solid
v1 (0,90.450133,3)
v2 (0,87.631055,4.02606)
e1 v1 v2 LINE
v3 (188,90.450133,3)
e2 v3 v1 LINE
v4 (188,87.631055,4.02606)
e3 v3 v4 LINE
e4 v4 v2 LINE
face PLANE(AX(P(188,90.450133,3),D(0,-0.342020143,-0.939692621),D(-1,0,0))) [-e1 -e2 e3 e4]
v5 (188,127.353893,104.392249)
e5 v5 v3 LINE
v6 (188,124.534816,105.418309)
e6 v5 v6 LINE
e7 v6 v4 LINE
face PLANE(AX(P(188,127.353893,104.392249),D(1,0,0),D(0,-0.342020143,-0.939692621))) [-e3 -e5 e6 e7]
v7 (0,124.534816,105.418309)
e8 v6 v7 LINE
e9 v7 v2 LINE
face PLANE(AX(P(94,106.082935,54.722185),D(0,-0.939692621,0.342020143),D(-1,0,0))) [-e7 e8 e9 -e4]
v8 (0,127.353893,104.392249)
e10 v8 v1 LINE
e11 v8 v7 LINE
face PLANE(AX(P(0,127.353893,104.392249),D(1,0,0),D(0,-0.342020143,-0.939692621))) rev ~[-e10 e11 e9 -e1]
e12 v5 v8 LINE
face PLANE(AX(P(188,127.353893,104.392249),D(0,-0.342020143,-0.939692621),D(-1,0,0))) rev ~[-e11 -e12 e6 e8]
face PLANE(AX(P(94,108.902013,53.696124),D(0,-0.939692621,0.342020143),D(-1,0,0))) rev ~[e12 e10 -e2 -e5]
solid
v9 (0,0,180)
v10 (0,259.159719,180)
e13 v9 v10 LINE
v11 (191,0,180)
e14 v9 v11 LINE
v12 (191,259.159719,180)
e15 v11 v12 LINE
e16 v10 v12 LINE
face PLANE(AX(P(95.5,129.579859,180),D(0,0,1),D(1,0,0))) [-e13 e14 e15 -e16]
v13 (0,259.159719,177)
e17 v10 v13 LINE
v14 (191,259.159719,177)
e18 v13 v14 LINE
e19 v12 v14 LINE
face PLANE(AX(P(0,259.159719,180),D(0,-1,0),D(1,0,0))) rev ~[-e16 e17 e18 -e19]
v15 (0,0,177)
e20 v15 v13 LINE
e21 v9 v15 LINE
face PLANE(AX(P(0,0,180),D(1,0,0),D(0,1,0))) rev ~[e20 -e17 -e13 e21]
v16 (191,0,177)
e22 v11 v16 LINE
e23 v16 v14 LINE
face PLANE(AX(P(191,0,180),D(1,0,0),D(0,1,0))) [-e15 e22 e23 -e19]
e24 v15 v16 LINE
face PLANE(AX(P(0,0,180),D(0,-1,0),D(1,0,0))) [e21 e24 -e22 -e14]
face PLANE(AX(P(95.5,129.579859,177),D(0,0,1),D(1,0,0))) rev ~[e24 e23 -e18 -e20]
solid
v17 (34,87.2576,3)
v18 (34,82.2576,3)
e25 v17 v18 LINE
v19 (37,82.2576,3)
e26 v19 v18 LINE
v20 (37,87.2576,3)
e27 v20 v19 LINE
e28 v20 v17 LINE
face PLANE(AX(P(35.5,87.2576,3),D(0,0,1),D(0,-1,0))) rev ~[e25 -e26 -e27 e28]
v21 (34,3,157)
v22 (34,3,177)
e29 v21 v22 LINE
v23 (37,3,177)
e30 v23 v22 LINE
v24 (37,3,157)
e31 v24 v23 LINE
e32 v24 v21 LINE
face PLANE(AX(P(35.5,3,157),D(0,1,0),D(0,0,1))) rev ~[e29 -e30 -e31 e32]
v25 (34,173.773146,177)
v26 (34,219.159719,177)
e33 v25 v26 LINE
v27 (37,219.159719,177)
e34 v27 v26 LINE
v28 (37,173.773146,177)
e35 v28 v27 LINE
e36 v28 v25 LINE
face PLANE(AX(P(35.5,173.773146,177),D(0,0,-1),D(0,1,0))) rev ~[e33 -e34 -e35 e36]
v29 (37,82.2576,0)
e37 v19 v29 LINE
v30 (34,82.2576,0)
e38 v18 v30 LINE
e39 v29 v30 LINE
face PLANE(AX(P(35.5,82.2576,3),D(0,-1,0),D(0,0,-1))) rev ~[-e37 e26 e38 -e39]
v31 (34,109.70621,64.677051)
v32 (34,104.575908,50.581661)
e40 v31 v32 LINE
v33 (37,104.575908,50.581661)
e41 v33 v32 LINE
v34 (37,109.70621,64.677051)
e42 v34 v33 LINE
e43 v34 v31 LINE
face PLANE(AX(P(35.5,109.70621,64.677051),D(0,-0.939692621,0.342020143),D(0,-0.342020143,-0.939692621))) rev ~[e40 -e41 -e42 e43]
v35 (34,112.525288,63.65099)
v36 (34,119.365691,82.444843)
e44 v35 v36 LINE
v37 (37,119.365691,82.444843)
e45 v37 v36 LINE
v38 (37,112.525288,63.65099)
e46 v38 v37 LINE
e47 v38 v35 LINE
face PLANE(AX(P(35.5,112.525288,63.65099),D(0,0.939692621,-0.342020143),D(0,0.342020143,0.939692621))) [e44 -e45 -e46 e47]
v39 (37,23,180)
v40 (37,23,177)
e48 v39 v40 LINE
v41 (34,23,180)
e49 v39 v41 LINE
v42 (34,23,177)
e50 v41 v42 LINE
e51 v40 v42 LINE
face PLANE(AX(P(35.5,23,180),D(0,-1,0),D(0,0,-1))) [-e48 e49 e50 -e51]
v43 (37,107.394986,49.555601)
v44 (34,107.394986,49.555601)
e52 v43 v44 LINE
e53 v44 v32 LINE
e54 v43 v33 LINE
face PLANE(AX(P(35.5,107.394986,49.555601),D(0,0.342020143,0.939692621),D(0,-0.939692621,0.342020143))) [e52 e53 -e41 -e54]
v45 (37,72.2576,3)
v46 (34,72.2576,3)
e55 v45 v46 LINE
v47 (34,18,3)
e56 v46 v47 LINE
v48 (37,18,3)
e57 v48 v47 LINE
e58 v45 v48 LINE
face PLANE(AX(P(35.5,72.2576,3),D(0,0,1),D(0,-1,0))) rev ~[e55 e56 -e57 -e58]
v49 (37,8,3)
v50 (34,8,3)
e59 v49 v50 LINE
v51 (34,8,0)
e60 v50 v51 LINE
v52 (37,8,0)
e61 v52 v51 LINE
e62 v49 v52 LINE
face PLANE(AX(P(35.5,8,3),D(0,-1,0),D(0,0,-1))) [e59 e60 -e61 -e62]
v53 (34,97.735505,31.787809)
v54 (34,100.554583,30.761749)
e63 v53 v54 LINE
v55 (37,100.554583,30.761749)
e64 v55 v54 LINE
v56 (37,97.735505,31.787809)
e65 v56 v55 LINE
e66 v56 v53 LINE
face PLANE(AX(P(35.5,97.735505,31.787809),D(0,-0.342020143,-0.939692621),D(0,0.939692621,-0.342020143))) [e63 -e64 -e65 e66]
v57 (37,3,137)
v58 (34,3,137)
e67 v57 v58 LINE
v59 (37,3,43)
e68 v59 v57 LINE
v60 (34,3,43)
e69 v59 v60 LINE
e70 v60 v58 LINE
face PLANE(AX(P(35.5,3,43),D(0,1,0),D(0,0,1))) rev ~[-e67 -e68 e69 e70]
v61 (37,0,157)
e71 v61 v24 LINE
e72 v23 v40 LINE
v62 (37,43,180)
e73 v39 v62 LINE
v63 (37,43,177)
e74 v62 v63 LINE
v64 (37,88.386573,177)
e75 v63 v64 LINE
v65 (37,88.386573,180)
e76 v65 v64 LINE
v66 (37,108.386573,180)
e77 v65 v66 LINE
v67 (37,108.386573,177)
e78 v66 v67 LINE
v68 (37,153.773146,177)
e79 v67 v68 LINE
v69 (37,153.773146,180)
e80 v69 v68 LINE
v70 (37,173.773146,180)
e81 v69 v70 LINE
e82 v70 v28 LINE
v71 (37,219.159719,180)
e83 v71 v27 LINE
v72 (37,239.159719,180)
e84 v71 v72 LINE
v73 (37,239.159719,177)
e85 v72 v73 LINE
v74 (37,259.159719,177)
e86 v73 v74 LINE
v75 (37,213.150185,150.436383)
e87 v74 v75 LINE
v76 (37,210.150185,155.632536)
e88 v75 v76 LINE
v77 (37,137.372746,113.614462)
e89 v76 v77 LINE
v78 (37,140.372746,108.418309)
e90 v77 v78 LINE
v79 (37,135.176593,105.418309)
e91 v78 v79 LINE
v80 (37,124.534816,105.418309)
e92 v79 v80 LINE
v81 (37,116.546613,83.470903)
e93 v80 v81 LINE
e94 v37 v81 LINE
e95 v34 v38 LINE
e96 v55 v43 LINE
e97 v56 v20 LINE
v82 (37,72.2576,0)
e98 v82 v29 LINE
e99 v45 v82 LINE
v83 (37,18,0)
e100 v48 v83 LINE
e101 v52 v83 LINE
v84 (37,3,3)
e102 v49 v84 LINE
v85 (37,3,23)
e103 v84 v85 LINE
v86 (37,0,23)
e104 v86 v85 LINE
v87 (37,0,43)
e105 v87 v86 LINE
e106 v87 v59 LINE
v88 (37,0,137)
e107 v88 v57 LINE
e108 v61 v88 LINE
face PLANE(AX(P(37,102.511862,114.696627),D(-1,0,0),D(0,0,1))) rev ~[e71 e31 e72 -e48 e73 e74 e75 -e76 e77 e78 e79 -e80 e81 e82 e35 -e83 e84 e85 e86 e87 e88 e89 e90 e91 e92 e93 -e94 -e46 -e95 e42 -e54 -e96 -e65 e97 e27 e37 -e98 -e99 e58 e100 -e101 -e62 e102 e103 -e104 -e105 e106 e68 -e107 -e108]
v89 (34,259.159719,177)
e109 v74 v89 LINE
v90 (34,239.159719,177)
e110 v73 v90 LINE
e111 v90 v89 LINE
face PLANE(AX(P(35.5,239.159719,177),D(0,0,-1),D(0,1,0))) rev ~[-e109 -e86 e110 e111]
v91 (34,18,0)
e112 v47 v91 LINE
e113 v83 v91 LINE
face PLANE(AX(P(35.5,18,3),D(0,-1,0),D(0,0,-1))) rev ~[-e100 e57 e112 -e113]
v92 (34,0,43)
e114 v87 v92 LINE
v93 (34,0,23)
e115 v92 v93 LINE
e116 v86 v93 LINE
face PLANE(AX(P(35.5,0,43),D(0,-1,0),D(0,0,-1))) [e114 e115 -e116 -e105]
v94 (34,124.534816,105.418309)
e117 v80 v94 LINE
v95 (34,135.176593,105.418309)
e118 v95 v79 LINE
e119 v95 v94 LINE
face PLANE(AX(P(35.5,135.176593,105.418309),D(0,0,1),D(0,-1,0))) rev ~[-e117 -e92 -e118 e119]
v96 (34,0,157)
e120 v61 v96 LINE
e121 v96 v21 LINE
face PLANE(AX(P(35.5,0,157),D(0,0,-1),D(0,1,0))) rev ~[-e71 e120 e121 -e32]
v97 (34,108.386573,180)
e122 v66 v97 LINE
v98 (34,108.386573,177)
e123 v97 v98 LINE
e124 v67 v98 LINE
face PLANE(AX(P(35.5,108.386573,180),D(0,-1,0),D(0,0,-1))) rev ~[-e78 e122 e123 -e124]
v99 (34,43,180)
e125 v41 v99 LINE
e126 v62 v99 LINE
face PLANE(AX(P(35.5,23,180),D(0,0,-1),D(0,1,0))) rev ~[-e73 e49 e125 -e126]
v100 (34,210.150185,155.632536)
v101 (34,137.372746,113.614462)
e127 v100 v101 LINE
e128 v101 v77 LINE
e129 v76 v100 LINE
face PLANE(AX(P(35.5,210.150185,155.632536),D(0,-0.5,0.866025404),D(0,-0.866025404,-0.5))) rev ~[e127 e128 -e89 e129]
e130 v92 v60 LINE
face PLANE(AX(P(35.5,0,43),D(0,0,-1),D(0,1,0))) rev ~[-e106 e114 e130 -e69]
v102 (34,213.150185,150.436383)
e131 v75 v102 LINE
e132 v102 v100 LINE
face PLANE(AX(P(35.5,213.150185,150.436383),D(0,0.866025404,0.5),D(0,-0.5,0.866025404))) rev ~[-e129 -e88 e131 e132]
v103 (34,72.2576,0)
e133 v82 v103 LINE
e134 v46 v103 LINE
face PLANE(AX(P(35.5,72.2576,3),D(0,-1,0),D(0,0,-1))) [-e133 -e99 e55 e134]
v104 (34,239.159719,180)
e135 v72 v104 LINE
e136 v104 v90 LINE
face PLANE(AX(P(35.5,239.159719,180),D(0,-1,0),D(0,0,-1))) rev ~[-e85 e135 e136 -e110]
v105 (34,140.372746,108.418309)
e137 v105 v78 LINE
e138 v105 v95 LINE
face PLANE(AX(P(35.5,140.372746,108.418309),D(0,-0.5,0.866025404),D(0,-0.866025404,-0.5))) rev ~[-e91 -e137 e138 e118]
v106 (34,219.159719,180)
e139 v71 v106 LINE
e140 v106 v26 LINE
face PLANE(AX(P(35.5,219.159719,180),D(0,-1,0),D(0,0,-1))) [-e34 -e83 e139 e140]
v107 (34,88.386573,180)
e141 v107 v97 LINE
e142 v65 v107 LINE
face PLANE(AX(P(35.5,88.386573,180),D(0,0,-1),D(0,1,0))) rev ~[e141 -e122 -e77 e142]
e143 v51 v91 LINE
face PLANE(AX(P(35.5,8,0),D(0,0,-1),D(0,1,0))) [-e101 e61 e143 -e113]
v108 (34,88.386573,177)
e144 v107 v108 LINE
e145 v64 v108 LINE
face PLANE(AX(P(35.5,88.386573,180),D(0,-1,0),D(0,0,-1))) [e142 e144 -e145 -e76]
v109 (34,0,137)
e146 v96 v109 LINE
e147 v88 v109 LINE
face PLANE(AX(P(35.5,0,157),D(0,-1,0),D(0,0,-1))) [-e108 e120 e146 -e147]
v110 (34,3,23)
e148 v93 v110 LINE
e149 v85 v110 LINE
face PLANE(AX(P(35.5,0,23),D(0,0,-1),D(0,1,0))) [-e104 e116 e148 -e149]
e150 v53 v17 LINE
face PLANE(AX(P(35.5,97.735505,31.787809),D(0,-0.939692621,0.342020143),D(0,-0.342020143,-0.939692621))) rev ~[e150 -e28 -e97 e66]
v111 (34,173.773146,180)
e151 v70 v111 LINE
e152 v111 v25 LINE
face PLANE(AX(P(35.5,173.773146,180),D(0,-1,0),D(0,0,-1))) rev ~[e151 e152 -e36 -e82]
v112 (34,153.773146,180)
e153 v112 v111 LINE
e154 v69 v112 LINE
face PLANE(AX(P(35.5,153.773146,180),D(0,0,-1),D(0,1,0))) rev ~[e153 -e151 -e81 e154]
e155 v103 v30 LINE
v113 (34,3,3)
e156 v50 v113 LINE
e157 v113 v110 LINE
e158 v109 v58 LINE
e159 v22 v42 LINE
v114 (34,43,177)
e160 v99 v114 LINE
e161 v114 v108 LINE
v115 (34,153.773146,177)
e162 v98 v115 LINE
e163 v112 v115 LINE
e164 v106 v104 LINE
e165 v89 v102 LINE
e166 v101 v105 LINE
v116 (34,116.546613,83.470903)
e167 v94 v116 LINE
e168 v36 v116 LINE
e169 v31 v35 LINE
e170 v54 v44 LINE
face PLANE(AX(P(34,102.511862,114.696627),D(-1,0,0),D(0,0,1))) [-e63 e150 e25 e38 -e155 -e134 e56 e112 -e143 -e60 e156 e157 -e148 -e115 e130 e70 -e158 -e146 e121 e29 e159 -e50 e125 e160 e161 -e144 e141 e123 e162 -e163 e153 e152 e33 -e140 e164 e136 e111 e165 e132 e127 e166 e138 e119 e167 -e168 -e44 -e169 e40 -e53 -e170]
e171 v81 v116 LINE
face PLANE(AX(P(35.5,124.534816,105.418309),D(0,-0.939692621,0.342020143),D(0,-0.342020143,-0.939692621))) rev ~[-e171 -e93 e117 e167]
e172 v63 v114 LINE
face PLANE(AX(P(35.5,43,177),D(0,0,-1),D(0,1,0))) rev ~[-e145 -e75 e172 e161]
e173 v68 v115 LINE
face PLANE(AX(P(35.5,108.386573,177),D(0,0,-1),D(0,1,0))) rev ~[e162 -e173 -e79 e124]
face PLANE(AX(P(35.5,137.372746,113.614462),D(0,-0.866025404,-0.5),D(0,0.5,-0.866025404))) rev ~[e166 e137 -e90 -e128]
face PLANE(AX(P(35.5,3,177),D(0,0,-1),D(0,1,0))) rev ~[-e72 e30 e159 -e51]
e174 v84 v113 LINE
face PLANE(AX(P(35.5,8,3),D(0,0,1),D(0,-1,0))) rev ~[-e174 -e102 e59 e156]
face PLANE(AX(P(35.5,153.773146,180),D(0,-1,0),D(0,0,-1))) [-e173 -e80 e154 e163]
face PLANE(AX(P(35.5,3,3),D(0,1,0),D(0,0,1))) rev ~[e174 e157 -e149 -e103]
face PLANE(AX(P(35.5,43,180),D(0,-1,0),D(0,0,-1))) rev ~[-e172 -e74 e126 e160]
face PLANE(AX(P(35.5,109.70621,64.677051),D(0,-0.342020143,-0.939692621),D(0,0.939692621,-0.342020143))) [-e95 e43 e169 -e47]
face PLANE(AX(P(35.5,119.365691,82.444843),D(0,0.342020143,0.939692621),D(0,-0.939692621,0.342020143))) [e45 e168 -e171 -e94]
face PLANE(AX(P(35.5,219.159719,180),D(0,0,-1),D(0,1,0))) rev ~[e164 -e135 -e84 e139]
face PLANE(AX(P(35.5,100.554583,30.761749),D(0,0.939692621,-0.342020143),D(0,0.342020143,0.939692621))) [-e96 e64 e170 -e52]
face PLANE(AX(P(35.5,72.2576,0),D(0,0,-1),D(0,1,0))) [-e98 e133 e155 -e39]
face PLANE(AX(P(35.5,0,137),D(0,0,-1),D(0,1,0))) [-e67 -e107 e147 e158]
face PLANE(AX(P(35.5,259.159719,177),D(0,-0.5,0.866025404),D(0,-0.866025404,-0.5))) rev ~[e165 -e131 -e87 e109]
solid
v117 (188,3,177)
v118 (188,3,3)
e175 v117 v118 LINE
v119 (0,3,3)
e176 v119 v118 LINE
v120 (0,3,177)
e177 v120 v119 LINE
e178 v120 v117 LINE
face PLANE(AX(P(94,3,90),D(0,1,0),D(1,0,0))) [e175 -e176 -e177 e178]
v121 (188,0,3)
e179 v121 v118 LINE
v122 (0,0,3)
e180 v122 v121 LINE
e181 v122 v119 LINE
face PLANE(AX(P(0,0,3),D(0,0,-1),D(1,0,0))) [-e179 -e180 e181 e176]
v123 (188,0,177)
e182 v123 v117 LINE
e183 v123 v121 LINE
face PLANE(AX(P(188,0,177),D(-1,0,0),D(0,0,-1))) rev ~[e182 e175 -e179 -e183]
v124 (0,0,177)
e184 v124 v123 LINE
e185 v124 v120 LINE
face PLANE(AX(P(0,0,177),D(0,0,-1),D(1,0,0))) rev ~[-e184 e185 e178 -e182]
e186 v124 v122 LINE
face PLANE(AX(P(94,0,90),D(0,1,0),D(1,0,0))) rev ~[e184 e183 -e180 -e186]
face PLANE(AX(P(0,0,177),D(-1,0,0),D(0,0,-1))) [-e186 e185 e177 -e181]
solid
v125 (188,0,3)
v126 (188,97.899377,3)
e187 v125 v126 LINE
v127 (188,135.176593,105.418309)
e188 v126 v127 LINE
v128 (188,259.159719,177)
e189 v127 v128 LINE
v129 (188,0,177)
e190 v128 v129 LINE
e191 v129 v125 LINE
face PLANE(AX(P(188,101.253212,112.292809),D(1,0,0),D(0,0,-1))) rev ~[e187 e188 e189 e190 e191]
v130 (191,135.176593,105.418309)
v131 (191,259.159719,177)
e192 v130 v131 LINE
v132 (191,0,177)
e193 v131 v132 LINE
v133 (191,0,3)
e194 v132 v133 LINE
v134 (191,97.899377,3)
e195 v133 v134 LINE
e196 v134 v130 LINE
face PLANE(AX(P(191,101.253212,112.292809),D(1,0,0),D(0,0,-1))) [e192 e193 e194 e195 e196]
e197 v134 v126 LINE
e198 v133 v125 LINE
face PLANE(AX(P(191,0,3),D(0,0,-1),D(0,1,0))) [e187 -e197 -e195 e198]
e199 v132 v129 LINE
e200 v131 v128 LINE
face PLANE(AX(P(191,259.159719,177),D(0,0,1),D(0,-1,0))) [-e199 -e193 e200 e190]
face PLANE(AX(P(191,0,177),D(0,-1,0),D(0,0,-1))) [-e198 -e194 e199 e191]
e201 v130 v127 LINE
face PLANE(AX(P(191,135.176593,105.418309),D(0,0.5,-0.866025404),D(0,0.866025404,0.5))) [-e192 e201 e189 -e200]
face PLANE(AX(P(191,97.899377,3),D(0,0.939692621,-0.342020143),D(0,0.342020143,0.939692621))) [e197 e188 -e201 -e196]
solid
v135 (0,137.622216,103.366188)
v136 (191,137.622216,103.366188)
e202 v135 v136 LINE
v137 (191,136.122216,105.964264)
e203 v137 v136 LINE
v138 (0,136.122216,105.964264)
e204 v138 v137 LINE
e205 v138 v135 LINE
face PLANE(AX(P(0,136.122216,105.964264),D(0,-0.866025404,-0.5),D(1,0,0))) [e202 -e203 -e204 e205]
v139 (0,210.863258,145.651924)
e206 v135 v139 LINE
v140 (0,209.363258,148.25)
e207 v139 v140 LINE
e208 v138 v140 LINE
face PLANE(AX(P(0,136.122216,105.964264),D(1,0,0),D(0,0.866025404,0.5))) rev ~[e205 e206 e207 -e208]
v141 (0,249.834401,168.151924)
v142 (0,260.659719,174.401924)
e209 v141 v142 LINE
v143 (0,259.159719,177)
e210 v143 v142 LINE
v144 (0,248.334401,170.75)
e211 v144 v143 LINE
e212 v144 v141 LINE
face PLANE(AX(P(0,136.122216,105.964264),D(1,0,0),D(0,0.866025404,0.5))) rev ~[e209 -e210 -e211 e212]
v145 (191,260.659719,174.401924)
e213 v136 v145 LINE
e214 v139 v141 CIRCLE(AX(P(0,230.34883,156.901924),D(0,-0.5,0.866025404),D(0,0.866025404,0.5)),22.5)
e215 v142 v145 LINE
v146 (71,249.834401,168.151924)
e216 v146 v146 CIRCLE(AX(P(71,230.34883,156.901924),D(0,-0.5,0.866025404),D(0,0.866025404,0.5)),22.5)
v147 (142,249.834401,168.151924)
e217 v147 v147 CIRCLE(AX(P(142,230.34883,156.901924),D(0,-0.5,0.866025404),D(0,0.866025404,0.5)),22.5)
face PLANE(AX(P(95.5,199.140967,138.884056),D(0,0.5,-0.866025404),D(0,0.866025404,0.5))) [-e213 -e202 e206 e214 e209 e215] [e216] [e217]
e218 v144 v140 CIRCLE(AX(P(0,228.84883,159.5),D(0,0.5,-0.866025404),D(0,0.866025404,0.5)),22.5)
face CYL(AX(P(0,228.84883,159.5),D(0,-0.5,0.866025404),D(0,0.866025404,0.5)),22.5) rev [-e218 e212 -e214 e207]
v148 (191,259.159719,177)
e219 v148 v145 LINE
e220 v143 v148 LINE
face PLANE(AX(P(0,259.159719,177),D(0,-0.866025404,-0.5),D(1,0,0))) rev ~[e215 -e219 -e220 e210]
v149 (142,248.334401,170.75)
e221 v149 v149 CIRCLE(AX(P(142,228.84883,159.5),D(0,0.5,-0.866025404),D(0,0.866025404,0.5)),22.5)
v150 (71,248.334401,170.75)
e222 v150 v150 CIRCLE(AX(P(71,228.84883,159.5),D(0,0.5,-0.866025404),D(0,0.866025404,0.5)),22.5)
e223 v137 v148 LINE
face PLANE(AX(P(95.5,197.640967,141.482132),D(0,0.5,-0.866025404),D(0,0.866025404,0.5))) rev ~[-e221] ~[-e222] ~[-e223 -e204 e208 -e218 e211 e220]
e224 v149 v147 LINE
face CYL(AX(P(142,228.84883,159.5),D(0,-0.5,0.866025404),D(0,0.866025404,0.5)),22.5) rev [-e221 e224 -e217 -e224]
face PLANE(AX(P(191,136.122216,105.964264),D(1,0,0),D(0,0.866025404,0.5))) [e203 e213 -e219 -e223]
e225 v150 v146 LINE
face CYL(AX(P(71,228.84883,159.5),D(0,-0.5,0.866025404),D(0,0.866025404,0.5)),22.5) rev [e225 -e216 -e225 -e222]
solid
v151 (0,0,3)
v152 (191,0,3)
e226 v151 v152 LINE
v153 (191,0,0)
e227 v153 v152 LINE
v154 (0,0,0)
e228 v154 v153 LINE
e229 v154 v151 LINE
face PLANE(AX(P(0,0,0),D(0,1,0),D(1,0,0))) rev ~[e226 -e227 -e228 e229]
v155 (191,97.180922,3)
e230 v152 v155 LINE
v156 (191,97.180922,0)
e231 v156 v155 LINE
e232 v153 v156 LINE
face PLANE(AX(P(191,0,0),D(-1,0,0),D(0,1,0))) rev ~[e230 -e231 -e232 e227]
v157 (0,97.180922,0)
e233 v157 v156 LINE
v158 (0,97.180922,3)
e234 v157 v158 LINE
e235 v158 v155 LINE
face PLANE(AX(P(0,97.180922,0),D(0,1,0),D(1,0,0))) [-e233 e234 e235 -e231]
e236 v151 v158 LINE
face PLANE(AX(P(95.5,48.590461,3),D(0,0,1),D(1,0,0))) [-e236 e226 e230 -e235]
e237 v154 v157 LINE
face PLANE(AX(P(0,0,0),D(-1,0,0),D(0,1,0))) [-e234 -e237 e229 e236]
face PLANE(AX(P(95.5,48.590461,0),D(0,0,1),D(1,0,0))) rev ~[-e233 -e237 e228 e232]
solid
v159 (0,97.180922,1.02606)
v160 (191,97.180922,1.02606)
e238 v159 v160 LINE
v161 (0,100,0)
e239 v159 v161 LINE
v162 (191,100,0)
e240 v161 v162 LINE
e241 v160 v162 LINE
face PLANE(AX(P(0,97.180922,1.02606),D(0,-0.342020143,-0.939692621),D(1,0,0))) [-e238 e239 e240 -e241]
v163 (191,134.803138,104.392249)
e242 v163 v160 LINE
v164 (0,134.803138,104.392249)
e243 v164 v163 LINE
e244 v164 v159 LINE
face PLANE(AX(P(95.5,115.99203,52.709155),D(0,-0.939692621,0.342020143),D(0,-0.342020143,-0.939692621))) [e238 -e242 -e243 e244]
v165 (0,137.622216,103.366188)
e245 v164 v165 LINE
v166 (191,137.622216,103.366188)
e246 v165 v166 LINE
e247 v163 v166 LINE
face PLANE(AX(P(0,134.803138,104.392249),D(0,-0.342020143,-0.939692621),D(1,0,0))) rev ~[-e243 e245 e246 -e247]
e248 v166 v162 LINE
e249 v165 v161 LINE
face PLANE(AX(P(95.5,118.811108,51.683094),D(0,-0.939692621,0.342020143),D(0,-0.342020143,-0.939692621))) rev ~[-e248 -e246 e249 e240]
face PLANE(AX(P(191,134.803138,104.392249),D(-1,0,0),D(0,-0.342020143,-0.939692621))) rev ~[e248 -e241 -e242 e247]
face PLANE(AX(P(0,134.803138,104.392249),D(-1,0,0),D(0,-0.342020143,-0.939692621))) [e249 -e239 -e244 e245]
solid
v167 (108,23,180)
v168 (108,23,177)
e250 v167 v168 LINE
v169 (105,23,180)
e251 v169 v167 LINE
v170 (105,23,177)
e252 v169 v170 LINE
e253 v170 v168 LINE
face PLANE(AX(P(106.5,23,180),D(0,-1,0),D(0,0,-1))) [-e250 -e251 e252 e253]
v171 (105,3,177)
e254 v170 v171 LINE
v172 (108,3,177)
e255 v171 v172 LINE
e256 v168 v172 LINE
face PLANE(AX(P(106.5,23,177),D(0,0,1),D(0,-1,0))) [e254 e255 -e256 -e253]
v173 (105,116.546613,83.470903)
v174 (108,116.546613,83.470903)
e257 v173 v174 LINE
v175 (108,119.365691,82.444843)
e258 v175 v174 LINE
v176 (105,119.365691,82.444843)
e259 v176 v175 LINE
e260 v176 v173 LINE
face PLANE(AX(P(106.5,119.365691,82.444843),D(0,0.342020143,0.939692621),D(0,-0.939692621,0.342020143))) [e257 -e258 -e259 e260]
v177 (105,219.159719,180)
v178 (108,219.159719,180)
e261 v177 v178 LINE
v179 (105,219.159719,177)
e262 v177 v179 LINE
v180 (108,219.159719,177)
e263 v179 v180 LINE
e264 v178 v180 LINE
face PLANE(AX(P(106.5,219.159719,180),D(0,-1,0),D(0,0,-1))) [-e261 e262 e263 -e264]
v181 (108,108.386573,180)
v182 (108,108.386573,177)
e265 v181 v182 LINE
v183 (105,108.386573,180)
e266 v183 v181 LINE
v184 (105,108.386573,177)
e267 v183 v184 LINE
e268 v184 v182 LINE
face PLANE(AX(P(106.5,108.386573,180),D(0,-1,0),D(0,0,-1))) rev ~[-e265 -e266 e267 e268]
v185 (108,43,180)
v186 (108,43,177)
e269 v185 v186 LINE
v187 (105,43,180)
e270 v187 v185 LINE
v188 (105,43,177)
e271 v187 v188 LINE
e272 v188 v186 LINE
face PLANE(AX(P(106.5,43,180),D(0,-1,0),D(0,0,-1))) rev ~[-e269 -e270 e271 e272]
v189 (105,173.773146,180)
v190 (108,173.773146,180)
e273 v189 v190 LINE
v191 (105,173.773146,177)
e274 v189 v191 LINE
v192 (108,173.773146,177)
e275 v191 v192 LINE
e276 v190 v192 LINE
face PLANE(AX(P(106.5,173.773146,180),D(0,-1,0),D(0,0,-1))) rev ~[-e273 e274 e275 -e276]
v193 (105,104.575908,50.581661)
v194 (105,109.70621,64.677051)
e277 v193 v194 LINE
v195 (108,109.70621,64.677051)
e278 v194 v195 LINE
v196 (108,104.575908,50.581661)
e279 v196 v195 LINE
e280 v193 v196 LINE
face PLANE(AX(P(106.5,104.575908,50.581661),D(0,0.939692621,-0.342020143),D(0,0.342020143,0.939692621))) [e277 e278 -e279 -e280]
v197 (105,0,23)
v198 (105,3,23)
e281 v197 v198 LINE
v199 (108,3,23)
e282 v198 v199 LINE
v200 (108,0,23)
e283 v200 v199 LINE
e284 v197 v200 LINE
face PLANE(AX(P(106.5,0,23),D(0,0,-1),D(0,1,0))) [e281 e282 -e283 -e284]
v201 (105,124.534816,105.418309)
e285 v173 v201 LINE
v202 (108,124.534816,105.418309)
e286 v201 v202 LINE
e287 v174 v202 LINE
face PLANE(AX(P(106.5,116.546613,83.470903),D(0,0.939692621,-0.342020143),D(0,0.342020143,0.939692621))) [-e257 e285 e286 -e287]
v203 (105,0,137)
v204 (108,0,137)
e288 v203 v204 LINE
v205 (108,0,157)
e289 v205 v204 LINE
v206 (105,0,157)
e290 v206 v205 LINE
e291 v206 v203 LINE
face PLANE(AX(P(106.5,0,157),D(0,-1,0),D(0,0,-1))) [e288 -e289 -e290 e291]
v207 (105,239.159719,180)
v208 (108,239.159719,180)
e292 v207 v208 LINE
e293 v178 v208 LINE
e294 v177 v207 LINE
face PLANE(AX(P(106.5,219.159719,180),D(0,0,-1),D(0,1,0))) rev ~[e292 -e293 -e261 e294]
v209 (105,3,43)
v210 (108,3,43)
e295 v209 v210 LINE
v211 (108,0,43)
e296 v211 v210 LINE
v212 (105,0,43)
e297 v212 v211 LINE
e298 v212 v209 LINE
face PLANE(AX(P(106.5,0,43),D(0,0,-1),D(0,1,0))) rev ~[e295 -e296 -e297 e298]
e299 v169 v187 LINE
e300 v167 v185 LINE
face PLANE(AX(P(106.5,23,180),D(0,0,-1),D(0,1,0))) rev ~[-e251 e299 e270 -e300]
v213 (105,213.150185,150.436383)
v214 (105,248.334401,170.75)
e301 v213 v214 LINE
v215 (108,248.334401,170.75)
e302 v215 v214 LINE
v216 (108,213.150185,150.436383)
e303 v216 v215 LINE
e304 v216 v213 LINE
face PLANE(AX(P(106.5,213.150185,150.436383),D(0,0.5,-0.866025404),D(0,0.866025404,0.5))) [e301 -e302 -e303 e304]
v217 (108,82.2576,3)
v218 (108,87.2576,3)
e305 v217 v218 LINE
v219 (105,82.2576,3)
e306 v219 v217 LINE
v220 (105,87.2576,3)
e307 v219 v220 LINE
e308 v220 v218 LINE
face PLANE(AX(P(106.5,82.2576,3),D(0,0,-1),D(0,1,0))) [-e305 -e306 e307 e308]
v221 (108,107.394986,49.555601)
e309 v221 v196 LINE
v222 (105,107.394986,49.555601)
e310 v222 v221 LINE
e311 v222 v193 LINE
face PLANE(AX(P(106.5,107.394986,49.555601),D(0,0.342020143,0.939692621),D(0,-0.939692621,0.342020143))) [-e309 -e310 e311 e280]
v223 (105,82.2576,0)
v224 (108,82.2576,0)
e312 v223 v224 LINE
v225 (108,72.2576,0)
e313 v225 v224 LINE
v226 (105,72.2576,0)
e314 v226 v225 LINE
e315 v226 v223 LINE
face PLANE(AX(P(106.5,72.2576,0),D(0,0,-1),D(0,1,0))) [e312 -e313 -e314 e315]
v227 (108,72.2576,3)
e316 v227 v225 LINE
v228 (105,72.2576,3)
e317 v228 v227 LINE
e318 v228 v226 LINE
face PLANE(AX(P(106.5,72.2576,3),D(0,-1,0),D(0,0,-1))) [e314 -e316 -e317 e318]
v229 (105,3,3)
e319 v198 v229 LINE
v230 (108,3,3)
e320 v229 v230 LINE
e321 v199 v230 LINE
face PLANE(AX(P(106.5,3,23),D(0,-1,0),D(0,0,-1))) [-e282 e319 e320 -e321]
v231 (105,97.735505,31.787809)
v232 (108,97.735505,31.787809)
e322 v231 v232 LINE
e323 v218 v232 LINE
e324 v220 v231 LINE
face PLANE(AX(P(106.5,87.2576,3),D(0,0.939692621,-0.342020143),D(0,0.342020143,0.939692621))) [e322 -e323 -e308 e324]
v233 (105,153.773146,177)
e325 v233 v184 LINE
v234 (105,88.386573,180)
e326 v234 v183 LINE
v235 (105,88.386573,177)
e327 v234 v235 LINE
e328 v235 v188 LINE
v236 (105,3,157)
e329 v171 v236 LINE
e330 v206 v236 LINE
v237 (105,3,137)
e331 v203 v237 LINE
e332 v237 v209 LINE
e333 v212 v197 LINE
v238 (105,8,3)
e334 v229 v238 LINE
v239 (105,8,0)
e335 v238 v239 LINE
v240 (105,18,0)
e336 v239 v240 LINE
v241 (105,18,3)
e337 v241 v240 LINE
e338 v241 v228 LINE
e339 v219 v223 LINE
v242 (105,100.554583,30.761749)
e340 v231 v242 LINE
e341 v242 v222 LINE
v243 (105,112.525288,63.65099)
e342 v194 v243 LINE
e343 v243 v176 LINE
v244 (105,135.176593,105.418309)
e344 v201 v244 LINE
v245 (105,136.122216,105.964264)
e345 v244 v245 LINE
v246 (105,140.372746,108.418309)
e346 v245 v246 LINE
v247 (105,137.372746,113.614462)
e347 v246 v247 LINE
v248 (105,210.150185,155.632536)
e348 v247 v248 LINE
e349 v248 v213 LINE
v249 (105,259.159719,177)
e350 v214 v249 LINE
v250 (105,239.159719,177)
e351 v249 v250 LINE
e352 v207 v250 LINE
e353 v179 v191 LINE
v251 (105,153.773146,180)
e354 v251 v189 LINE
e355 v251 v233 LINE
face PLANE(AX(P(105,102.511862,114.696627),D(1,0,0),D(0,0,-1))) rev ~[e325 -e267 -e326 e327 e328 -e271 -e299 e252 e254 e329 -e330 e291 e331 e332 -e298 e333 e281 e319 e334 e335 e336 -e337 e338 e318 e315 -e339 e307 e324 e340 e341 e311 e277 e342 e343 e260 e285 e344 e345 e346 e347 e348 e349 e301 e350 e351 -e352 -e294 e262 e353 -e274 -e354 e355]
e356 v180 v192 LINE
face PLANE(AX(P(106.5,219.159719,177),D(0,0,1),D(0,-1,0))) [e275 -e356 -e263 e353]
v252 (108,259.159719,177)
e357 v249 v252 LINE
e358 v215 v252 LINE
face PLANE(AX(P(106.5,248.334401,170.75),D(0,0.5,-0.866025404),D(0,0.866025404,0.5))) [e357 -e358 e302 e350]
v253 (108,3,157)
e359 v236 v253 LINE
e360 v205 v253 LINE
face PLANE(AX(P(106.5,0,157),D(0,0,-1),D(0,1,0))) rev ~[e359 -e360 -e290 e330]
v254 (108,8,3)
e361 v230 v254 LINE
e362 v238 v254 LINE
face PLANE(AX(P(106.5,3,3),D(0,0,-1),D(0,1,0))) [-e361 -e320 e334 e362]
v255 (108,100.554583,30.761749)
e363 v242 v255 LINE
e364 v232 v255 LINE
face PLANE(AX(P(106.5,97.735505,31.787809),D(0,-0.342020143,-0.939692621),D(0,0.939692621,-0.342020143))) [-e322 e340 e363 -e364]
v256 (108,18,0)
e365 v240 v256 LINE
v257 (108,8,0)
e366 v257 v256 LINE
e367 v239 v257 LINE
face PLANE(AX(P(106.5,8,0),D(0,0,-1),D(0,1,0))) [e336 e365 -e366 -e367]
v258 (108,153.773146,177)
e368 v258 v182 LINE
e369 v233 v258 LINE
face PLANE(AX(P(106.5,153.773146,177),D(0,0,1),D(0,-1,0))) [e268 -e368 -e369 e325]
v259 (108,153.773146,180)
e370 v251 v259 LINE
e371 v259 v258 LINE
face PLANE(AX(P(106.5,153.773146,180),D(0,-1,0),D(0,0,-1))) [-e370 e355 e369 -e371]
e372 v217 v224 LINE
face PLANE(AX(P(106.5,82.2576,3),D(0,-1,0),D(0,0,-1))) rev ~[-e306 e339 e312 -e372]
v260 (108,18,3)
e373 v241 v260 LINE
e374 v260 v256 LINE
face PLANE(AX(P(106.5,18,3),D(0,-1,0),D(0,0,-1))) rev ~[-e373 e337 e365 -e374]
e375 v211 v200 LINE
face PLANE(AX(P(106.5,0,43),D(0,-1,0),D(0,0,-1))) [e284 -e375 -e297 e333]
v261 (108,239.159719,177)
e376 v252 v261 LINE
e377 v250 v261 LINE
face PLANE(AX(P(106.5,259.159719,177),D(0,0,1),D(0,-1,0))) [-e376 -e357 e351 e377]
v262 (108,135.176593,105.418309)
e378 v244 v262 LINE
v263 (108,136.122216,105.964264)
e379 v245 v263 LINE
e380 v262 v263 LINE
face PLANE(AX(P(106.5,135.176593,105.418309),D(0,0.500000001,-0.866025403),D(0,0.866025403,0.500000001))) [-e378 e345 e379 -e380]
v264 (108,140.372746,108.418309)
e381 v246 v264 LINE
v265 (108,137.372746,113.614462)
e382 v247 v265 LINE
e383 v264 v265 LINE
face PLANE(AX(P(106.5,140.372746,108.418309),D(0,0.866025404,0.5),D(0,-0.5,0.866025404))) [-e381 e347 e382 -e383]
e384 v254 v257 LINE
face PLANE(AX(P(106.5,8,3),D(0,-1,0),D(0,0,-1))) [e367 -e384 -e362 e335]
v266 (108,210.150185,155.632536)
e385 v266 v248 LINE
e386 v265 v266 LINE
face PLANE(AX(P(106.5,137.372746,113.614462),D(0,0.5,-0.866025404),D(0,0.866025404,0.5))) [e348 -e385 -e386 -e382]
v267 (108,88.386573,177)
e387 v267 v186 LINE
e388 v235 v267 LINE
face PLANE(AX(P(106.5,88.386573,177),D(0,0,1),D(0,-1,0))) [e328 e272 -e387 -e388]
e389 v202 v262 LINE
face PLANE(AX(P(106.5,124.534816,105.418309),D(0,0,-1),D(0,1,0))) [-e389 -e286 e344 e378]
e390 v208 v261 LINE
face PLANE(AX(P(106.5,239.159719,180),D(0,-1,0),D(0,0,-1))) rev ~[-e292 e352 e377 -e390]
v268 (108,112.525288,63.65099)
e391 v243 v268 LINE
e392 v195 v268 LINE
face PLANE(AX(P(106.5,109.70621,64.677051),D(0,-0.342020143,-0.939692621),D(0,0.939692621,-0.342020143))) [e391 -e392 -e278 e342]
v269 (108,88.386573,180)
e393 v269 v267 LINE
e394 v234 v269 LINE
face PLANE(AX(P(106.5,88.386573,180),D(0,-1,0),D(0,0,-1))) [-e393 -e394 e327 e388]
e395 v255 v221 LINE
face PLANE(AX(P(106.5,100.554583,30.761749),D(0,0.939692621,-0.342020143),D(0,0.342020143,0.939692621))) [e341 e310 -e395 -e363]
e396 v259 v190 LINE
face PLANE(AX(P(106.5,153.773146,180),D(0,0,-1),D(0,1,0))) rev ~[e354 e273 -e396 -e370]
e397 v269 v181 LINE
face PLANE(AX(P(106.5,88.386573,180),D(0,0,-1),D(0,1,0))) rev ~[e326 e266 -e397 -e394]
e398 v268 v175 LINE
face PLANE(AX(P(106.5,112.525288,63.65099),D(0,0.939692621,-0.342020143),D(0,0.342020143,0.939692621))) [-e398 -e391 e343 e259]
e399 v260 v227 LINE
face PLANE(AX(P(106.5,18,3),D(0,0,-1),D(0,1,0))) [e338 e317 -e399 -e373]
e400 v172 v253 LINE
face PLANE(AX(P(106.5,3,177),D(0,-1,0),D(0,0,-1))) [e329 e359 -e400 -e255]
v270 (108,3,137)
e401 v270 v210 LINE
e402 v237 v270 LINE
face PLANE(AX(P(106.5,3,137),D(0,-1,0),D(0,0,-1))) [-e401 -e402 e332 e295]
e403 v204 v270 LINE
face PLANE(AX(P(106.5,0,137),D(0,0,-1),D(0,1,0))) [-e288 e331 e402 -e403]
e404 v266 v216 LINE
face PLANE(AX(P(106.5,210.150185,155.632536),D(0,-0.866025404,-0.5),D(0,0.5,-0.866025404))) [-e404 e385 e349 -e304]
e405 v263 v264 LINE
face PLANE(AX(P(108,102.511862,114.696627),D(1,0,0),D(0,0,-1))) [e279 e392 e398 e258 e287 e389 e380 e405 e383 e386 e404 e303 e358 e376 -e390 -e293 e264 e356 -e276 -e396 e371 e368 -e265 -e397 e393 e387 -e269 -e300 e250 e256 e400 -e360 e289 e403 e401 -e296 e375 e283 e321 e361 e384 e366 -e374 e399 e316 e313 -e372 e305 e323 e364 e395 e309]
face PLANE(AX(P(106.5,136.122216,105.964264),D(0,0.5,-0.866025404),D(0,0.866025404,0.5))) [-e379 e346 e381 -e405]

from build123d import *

# Parameters (mm, degrees)
ESQUISSE3_W                = 188
ESQUISSE3_H                = 174
PLQ_BASE_DEPTH             = 3
ESQUISSE4_W                = 191
ESQUISSE4_H                = 259.159718809
PLQ_ARRIERE_DEPTH          = 3
ESQUISSE5_W                = 191
ESQUISSE5_H                = 97.180922138
PLQ_AVANT_DEPTH            = 3
ESQUISSE6_W                = 142.071471004
ESQUISSE6_H                = 191
PLQ_PANNEAU_DESSUS_DEPTH   = 3
ESQUISSE11_W               = 110
ESQUISSE11_H               = 191
PLQ_TABLETTE_DEPTH         = 3
PLQ_COTE_START             = 191
PLQ_COTE_DEPTH             = 3
ESQUISSE9_R                = 22.5
FENTE_1_DEPTH              = 370.018781398
R_P_TITION_LIN_AIRE2_COUNT = 3
R_P_TITION_LIN_AIRE2_PITCH = 71
SEPARATEUR_1_START         = 106.5
ESQUISSE10_W               = 3
ESQUISSE10_H               = 20
ESQUISSE10_W_2             = 20
ESQUISSE10_H_2             = 3
ESQUISSE10_H_3             = 10
SEPARATEUR_1_DEPTH         = 1.5
SEPARATEUR_2_START         = 35.5
ESQUISSE10_3_W             = 3
ESQUISSE10_3_H             = 10
ESQUISSE10_3_W_2           = 20
ESQUISSE10_3_H_2           = 3
ESQUISSE10_3_H_3           = 20
SEPARATEUR_2_DEPTH         = 1.5
ESQUISSE13_W               = 188
ESQUISSE13_H               = 107.899377386
PLQ_SUPPORT_TABLETTE_DEPTH = 3


with BuildPart() as part:
    # Esquisse3 → plq_base (new body)
    with BuildSketch(Plane(origin=(0, 0, 0), x_dir=(1, 0, 0), z_dir=(0, 1, 0))):
        with Locations((94, -90)):
            Rectangle(ESQUISSE3_W, ESQUISSE3_H)
    extrude(amount=PLQ_BASE_DEPTH)


with BuildPart() as body_2:
    # Esquisse4 → plq_arriere (new body)
    with BuildSketch(Plane.XY.offset(180)):
        with Locations((95.5, 129.579859405)):
            Rectangle(ESQUISSE4_W, ESQUISSE4_H)
    extrude(amount=-PLQ_ARRIERE_DEPTH)


with BuildPart() as body_3:
    # Esquisse5 → plq_avant (new body)
    with BuildSketch(Plane.XY):
        with Locations((95.5, 48.590461069)):
            Rectangle(ESQUISSE5_W, ESQUISSE5_H)
    extrude(amount=PLQ_AVANT_DEPTH)


with BuildPart() as body_4:
    # Esquisse6 → plq_panneau (dessus) (new body)
    with BuildSketch(Plane(origin=(0, -11.853318533, 20.530549937), x_dir=(0, 0.8660254037844439, 0.4999999999999909), z_dir=(0, 0.4999999999999909, -0.8660254037844439))):
        with Locations((241.903164624, 95.5)):
            Rectangle(ESQUISSE6_W, ESQUISSE6_H)
    extrude(amount=PLQ_PANNEAU_DESSUS_DEPTH)

    # Esquisse9 → fente_1 (cut, through all)
    with BuildSketch(Plane(origin=(0, -11.853318533, 20.530549937), x_dir=(0, 0.8660254037844439, 0.4999999999999909), z_dir=(0, 0.4999999999999909, -0.8660254037844439))):
        with Locations((277.938900126, 142)):
            Circle(ESQUISSE9_R)
    fente_1 = extrude(amount=FENTE_1_DEPTH, mode=Mode.SUBTRACT)

    # Répétition linéaire2: fente_1 ×3
    with Locations(*[(-i * R_P_TITION_LIN_AIRE2_PITCH, 0, 0) for i in range(1, R_P_TITION_LIN_AIRE2_COUNT)]):
        add(fente_1, mode=Mode.SUBTRACT)


with BuildPart() as body_5:
    # Esquisse11 → plq_tablette (new body)
    with BuildSketch(Plane(origin=(0, 85.483144294, -31.113320054), x_dir=(0, -0.3420201433256655, -0.9396926207859096), z_dir=(0, -0.9396926207859095, 0.34202014332566544))):
        with Locations((-89.202014333, 95.5)):
            Rectangle(ESQUISSE11_W, ESQUISSE11_H)
    extrude(amount=-PLQ_TABLETTE_DEPTH)


with BuildPart() as body_6:
    # Esquisse7 → plq_cote (new body)
    with BuildSketch(Plane(origin=(0, 0, 0), x_dir=(0, 0, -1), z_dir=(1, 0, 0)).offset(PLQ_COTE_START)):
        Polygon((-177, 259.159718809), (-177, 0), (-3, 0), (-3, 97.899377385), (-105.418309146, 135.176593359), align=None)
    extrude(amount=-PLQ_COTE_DEPTH)


with BuildPart() as body_7:
    # Esquisse10 → separateur_1 (new, symmetric)
    with BuildSketch(Plane(origin=(0, 0, 0), x_dir=(0, 0, -1), z_dir=(1, 0, 0)).offset(SEPARATEUR_1_START)):
        Polygon((-170.75, 248.334401261), (-177, 259.159718809), (-177, 239.159718809), (-177, 219.159718809), (-177, 173.773145872), (-177, 153.773145872), (-177, 108.386572936), (-177, 88.386572936), (-177, 43), (-177, 23), (-177, 3), (-157, 3), (-137, 3), (-43, 3), (-23, 3), (-3, 3), (-3, 8), (-3, 18), (-3, 72.257599661), (-3, 82.257599661), (-3, 87.257599661), (-31.787808935, 97.735505223), (-50.581661351, 104.575908089), (-64.677050662, 109.706210239), (-83.470903078, 116.546613106), (-105.418309146, 124.534815634), (-105.418309146, 135.176593359), (-105.964264498, 136.122215766), (-108.418309146, 140.372745781), (-113.614461569, 137.372745781), (-155.632535537, 210.15018473), (-150.436383114, 213.15018473), align=None)
        with Locations((-178.5, 229.159718809)):
            Rectangle(ESQUISSE10_W, ESQUISSE10_H)
        with Locations((-178.5, 33)):
            Rectangle(ESQUISSE10_W, ESQUISSE10_H)
        with Locations((-147, 1.5)):
            Rectangle(ESQUISSE10_W_2, ESQUISSE10_H_2)
        with Locations((-33, 1.5)):
            Rectangle(ESQUISSE10_W_2, ESQUISSE10_H_2)
        with Locations((-1.5, 13)):
            Rectangle(ESQUISSE10_W, ESQUISSE10_H_3)
        with Locations((-1.5, 77.257599661)):
            Rectangle(ESQUISSE10_W, ESQUISSE10_H_3)
        Polygon((-82.444842648, 119.365690968), (-83.470903078, 116.546613106), (-64.677050662, 109.706210239), (-63.650990232, 112.525288101), align=None)
        Polygon((-49.555600921, 107.394985952), (-50.581661351, 104.575908089), (-31.787808935, 97.735505223), (-30.761748505, 100.554583085), align=None)
        with Locations((-178.5, 163.773145872)):
            Rectangle(ESQUISSE10_W, ESQUISSE10_H)
        with Locations((-178.5, 98.386572936)):
            Rectangle(ESQUISSE10_W, ESQUISSE10_H)
    extrude(amount=SEPARATEUR_1_DEPTH, both=True)


with BuildPart() as body_8:
    # Esquisse10<3> → separateur_2 (new, symmetric)
    with BuildSketch(Plane(origin=(0, 0, 0), x_dir=(0, 0, -1), z_dir=(1, 0, 0)).offset(SEPARATEUR_2_START)):
        Polygon((-105.418309146, 135.176593359), (-105.418309146, 124.534815634), (-3, 87.257599661), (-3, 3), (-177, 3), (-177, 259.159718809), (-150.436383114, 213.15018473), (-155.632535537, 210.15018473), (-113.614461569, 137.372745781), (-108.418309146, 140.372745781), align=None)
        Polygon((-82.444842648, 119.365690968), (-83.470903078, 116.546613106), (-64.677050662, 109.706210239), (-63.650990232, 112.525288101), align=None)
        with Locations((-1.5, 77.257599661)):
            Rectangle(ESQUISSE10_3_W, ESQUISSE10_3_H)
        with Locations((-1.5, 13)):
            Rectangle(ESQUISSE10_3_W, ESQUISSE10_3_H)
        with Locations((-33, 1.5)):
            Rectangle(ESQUISSE10_3_W_2, ESQUISSE10_3_H_2)
        with Locations((-147, 1.5)):
            Rectangle(ESQUISSE10_3_W_2, ESQUISSE10_3_H_2)
        with Locations((-178.5, 33)):
            Rectangle(ESQUISSE10_3_W, ESQUISSE10_3_H_3)
        with Locations((-178.5, 98.386572936)):
            Rectangle(ESQUISSE10_3_W, ESQUISSE10_3_H_3)
        with Locations((-178.5, 163.773145872)):
            Rectangle(ESQUISSE10_3_W, ESQUISSE10_3_H_3)
        with Locations((-178.5, 229.159718809)):
            Rectangle(ESQUISSE10_3_W, ESQUISSE10_3_H_3)
        Polygon((-49.555600921, 107.394985952), (-50.581661351, 104.575908089), (-31.787808935, 97.735505223), (-30.761748505, 100.554583085), align=None)
    extrude(amount=SEPARATEUR_2_DEPTH, both=True)


with BuildPart() as body_9:
    # Esquisse13 → plq support tablette (new body)
    with BuildSketch(Plane(origin=(0, 78.905295948, -28.719179051), x_dir=(-1, 0, 0), z_dir=(0, -0.9396926207859095, 0.3420201433256655))):
        with Locations((-94, -87.704534)):
            Rectangle(ESQUISSE13_W, ESQUISSE13_H)
    extrude(amount=PLQ_SUPPORT_TABLETTE_DEPTH)


solid = Compound([part.part, body_2.part, body_3.part, body_4.part, body_5.part, body_6.part, body_7.part, body_8.part, body_9.part])
